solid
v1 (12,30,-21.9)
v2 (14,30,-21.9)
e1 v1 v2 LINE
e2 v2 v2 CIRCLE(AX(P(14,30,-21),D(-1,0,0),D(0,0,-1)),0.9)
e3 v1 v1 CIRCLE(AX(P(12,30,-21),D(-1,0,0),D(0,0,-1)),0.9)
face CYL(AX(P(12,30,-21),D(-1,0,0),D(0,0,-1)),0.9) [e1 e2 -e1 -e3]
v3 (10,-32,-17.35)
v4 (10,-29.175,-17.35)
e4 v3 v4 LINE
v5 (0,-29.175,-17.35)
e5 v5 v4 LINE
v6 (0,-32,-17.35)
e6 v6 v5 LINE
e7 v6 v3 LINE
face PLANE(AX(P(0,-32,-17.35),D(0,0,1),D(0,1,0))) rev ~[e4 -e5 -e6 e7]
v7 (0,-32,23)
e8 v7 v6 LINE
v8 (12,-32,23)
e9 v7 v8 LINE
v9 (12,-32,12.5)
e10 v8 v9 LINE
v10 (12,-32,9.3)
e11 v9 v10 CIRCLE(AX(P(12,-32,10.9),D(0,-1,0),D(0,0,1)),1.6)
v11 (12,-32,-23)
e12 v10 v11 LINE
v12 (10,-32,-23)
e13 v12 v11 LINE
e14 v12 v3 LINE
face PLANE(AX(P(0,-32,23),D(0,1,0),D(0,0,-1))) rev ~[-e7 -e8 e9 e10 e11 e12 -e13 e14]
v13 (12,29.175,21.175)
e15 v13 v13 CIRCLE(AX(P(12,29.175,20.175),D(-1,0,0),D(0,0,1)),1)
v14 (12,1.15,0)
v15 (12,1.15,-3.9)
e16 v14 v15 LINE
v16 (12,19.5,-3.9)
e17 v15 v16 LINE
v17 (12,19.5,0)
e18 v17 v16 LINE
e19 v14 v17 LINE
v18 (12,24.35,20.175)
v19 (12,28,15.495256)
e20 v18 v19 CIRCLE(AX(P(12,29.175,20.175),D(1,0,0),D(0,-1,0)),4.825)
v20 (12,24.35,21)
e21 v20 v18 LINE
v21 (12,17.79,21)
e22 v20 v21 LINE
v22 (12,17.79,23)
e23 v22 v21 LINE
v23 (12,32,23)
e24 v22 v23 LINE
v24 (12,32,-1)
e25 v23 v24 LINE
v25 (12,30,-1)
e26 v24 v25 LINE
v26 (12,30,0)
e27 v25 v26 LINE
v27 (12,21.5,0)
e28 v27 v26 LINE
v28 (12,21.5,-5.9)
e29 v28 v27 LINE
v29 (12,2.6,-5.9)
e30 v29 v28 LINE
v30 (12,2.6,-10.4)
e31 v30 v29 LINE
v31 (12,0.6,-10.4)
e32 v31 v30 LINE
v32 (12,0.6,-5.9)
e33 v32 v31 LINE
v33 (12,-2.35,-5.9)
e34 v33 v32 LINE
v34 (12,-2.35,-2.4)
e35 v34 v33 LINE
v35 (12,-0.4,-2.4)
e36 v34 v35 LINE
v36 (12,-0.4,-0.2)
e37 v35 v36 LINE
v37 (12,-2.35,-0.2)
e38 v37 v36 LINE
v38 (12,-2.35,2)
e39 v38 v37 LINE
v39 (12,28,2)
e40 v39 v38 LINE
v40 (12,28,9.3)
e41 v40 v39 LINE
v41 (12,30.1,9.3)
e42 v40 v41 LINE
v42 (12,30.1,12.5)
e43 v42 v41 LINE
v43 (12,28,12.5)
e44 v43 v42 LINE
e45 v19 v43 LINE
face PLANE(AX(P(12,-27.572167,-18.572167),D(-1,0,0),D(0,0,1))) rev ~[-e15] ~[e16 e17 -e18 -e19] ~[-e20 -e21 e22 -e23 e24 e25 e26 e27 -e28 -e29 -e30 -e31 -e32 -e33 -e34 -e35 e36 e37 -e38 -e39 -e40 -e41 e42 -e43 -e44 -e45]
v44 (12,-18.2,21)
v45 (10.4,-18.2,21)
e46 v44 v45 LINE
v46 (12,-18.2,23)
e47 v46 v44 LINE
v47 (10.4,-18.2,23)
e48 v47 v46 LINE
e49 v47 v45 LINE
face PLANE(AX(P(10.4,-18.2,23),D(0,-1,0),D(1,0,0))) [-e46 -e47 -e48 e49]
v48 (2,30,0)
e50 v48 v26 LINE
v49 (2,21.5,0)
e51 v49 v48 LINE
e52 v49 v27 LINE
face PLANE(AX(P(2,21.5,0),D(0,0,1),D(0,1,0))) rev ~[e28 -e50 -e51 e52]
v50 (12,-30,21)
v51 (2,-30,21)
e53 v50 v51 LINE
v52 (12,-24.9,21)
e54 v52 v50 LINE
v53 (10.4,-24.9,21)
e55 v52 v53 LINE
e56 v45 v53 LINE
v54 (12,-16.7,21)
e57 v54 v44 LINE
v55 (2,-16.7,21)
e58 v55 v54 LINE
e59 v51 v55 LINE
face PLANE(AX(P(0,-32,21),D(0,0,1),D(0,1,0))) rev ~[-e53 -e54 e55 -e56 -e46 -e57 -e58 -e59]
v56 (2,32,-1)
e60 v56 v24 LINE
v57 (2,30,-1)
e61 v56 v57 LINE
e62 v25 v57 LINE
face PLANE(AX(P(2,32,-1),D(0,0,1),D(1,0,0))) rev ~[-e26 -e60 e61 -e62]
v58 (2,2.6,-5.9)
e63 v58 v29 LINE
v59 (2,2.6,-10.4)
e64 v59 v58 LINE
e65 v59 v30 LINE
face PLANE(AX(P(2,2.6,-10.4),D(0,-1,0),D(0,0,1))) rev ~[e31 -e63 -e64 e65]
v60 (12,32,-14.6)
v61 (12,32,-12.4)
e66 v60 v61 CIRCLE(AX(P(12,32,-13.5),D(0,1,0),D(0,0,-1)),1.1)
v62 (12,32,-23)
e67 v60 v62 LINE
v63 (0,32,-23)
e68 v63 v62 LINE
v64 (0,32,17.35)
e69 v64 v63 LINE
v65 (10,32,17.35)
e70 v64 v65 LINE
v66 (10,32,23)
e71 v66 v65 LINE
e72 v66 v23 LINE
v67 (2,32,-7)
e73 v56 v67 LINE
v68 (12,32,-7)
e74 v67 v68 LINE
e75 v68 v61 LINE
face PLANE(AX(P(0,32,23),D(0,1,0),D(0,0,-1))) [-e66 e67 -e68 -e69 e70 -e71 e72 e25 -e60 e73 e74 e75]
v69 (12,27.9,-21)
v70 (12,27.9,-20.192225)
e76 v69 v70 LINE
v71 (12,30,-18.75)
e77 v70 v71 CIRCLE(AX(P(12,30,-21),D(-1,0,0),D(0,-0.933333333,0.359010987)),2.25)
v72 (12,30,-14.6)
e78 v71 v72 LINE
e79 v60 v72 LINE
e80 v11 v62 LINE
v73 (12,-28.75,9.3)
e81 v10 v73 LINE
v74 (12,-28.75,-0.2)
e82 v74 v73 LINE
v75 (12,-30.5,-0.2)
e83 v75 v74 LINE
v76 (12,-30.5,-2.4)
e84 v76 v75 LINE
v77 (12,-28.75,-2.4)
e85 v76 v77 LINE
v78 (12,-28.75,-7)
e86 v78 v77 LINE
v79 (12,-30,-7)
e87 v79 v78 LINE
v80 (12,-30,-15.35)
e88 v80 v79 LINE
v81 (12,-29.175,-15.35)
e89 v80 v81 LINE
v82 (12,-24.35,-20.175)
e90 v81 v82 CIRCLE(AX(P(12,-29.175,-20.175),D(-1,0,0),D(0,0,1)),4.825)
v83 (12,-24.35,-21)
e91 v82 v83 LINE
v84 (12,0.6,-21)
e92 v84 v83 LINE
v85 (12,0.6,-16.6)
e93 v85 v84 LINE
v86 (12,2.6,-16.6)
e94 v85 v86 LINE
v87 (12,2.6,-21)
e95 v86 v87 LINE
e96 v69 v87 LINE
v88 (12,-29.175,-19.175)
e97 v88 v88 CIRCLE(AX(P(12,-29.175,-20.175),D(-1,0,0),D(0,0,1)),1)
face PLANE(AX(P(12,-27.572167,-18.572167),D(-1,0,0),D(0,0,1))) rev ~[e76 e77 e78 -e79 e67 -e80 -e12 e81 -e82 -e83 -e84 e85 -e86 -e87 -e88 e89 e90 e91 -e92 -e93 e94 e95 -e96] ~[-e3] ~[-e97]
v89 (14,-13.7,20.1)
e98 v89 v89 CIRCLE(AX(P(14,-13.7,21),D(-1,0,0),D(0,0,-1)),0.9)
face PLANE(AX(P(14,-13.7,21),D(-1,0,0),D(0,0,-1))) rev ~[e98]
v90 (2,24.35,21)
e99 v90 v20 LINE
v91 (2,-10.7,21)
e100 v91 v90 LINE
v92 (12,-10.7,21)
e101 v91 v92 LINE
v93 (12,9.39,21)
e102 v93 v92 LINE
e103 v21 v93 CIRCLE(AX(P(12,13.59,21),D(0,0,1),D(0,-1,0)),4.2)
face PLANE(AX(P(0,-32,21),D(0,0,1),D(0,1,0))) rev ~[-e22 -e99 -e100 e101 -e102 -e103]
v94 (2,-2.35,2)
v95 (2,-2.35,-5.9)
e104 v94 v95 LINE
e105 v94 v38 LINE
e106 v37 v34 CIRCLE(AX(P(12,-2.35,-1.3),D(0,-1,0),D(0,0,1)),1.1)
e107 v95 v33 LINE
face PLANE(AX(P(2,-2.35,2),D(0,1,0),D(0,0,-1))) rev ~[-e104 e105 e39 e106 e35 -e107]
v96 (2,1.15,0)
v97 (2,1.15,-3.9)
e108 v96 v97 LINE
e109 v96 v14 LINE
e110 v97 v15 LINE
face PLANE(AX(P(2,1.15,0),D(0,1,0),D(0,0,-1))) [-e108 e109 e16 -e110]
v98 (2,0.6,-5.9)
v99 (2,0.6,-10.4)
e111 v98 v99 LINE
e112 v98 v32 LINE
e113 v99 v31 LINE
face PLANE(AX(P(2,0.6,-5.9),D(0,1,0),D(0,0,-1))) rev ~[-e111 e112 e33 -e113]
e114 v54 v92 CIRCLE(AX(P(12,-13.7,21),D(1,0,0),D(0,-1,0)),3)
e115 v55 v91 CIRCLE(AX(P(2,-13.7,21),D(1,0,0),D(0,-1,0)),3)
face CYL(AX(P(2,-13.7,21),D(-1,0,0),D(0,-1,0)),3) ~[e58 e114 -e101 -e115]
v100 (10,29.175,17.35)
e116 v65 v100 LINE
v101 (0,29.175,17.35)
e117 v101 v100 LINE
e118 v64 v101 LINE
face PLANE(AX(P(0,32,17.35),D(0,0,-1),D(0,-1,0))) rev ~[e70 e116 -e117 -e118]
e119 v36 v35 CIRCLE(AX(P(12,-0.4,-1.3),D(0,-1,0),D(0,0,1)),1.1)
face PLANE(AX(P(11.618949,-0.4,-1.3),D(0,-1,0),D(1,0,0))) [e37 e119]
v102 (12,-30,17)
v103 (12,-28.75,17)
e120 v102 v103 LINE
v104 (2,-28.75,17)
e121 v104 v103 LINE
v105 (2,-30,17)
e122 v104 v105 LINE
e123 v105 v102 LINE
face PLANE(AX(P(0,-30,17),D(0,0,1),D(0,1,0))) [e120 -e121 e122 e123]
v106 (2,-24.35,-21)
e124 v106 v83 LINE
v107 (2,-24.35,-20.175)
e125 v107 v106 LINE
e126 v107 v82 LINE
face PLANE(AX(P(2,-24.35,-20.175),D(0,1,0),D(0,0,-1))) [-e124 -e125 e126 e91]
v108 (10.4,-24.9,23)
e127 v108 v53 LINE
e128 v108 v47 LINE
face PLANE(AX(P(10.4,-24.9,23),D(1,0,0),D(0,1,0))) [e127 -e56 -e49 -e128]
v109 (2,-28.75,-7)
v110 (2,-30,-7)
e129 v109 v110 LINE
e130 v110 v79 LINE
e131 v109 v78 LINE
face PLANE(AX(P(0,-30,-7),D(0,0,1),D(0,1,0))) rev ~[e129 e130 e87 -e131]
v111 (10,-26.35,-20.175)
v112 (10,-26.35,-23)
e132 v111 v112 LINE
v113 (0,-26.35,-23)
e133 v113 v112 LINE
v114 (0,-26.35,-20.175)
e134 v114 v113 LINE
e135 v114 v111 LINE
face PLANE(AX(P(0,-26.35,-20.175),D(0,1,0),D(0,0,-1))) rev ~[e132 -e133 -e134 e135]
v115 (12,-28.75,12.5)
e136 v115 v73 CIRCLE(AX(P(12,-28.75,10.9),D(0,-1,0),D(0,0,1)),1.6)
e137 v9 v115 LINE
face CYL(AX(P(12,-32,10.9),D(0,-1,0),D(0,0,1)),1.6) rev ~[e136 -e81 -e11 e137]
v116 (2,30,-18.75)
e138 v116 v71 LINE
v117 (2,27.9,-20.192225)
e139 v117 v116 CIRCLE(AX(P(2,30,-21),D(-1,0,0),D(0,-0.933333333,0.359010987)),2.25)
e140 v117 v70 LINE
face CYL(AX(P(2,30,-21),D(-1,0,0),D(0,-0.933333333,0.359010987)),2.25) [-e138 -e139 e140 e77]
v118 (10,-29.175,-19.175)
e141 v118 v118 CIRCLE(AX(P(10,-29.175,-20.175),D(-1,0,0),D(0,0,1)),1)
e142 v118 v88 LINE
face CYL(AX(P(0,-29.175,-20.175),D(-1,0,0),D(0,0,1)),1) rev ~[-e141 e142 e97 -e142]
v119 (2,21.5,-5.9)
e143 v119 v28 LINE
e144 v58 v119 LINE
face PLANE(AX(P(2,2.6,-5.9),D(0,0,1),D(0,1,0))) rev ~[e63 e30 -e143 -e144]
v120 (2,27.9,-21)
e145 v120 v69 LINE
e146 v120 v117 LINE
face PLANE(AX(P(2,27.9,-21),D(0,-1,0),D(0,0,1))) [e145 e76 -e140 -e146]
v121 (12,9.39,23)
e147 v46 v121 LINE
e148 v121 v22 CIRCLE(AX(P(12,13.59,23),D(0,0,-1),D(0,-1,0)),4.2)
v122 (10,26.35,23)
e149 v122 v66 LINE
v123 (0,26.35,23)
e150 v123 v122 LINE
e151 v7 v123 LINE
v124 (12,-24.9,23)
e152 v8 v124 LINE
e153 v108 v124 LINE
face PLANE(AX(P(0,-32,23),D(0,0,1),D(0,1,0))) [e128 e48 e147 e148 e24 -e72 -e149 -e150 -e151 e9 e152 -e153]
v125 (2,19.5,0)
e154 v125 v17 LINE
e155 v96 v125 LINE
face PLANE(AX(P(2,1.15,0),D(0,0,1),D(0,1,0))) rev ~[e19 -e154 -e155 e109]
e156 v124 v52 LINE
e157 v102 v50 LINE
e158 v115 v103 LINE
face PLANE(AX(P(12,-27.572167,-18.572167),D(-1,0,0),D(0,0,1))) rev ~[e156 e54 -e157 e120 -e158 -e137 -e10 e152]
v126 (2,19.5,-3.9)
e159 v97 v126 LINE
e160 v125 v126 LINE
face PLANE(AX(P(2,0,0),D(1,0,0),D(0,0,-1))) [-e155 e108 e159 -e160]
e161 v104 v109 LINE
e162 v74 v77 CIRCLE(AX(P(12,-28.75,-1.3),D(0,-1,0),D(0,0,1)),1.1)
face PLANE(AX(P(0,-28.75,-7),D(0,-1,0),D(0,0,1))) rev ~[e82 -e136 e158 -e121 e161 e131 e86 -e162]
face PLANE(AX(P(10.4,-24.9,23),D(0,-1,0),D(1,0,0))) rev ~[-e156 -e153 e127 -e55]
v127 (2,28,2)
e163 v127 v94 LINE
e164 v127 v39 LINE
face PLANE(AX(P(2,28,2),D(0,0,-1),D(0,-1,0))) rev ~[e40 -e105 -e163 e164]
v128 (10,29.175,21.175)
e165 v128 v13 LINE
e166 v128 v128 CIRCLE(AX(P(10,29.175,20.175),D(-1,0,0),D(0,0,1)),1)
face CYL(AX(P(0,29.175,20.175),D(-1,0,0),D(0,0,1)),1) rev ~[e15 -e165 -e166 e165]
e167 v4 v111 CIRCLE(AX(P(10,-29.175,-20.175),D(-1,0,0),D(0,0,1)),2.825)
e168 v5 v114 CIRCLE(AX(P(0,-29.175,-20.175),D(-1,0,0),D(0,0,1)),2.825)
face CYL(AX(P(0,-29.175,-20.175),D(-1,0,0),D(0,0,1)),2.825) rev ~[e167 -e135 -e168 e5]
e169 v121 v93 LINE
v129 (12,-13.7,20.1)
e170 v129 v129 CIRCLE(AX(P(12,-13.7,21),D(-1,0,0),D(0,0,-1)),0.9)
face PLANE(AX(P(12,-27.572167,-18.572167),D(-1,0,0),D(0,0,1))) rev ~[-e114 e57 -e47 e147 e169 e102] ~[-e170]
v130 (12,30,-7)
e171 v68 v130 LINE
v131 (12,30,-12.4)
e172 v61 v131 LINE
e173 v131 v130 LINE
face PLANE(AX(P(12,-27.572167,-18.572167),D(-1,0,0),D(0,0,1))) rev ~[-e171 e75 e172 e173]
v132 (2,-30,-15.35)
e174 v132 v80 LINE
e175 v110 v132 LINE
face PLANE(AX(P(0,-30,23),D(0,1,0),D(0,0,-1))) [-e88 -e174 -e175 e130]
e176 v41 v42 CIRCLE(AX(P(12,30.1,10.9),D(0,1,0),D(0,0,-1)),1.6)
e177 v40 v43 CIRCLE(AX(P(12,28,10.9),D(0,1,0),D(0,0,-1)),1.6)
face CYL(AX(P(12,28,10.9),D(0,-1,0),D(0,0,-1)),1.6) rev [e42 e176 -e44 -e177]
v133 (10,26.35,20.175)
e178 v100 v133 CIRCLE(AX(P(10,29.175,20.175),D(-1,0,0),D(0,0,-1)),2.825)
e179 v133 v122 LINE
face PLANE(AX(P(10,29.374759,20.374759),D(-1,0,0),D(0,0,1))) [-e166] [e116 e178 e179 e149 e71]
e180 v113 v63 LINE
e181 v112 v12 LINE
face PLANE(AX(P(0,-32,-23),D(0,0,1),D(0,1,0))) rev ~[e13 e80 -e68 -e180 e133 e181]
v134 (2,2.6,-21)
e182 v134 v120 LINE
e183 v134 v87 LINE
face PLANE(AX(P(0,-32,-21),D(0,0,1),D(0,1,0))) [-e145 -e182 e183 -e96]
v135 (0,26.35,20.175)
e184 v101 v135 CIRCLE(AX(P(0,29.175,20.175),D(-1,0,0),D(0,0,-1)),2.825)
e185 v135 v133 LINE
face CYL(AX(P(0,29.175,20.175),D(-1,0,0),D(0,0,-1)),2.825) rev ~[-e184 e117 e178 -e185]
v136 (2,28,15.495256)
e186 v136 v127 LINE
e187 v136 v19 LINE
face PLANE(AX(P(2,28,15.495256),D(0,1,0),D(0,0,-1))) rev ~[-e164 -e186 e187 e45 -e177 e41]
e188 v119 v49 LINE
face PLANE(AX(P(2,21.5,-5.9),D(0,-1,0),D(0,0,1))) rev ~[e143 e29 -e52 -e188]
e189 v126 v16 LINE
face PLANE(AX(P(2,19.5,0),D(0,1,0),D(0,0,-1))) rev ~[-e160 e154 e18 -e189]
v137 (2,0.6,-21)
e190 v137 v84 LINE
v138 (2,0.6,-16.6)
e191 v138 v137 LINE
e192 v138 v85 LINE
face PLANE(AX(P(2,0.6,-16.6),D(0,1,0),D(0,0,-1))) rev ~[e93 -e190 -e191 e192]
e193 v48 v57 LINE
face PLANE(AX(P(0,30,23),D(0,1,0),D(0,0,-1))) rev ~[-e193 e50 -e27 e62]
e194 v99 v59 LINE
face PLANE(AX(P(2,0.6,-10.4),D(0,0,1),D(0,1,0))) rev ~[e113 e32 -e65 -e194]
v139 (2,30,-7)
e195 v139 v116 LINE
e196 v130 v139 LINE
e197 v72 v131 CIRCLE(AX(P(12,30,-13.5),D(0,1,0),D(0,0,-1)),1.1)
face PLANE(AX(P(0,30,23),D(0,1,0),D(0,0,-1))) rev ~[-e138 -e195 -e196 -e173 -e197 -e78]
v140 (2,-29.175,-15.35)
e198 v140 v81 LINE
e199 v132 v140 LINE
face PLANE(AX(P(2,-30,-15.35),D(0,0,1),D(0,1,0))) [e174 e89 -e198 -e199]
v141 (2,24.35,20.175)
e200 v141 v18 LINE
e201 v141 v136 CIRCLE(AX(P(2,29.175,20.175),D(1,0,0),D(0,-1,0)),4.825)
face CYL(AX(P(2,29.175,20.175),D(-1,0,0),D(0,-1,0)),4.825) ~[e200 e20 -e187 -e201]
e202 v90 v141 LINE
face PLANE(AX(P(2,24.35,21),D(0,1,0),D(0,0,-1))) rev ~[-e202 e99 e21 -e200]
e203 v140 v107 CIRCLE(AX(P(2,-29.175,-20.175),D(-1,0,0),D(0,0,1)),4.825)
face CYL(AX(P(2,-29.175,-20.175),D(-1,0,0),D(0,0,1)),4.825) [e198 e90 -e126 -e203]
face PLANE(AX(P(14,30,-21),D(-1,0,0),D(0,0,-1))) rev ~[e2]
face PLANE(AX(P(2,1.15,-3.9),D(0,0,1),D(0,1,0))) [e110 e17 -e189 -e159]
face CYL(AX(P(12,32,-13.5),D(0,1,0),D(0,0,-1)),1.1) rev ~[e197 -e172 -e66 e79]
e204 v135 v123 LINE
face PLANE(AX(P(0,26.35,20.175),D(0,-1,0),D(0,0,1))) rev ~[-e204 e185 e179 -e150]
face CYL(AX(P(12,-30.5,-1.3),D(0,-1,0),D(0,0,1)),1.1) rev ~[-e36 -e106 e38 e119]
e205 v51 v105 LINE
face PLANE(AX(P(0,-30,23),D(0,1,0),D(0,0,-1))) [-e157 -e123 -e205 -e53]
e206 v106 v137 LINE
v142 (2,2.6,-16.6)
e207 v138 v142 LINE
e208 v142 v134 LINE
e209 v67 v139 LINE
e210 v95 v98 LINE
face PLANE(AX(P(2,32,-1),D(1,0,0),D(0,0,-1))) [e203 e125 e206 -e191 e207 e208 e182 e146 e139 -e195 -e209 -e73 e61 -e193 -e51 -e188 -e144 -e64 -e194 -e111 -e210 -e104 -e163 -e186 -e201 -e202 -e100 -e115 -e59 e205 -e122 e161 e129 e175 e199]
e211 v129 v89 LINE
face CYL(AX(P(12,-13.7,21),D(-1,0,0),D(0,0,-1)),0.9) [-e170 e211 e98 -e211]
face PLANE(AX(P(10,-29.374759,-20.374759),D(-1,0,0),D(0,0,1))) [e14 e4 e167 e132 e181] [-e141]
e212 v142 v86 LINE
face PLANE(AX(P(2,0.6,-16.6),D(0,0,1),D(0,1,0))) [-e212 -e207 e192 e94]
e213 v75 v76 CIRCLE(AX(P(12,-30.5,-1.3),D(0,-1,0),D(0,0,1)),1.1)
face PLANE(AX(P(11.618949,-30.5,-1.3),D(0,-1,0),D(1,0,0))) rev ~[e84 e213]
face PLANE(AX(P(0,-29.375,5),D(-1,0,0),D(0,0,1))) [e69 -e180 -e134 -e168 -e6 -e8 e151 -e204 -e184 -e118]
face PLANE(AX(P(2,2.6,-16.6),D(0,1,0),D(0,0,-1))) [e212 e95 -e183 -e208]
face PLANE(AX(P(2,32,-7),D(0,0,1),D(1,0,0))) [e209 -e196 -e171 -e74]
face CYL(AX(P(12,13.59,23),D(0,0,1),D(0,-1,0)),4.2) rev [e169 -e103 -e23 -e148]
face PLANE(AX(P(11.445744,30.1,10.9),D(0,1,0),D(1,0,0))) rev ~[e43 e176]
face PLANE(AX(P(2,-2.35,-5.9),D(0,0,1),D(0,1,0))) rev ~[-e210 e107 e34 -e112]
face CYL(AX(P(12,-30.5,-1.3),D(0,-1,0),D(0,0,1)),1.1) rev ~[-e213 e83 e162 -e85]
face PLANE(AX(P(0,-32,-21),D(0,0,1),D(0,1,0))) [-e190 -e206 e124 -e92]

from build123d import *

# Parameters (mm, degrees)
SKETCH_1_W           = 46
SKETCH_1_H           = 64
EXTRUDE_1_DEPTH      = 12
SHELL_1_T            = -2
SKETCH_3_W           = 4.4
SKETCH_3_H           = 2
SKETCH_3_W_2         = 3.9
SKETCH_3_H_2         = 18.35
EXTRUDE_6_DEPTH      = 10
SKETCH_4_R           = 1
CUT_EXTRUDE_1_DEPTH  = 10
CUT_EXTRUDE_3_REACH  = 43.195
SKETCH_7_R           = 1
EXTRUDE_START        = -12
SKETCH_8_R           = 0.9
EXTRUDE_7_DEPTH      = 2
SKETCH_13_W          = 24
SKETCH_13_H          = 1.25
EXTRUDE_8_DEPTH      = 12
CUT_EXTRUDE_4_REACH  = 71.433
CUT_EXTRUDE_5_REACH  = 71.433
CUT_EXTRUDE_START    = -4
CUT_EXTRUDE_6_DEPTH  = 2.1
CUT_EXTRUDE_START_2  = -1.5
CUT_EXTRUDE_7_DEPTH  = 30.1
CUT_EXTRUDE_8_REACH  = 59.758
CUT_EXTRUDE_9_REACH  = 71.433
SKETCH_15_W          = 10
SKETCH_15_H          = 6
CUT_EXTRUDE_10_REACH = 59.758
SKETCH_16_W          = 1.6
SKETCH_16_H          = 6.7


with BuildPart() as part:
    # 草图1 → 凸台-拉伸1 (new body)
    with BuildSketch(Plane(origin=(0, 0, 0), x_dir=(0, 0, -1), z_dir=(1, 0, 0))):
        Rectangle(SKETCH_1_W, SKETCH_1_H)
    extrude(amount=EXTRUDE_1_DEPTH)

    # 抽壳1
    shell_1_openings = [part.faces().sort_by_distance(p)[0] for p in [
        (12, 0, 0),
    ]]
    offset(amount=SHELL_1_T, openings=shell_1_openings, kind=Kind.INTERSECTION)

    # 草图3 → 凸台-拉伸6 (add)
    # profile 1 of 5: a face of its own
    with BuildSketch(Plane(origin=(2, 0, 0), x_dir=(0, 0, -1), z_dir=(1, 0, 0))):
        with BuildLine():
            Line((20.175, -24.35), (21, -24.35))
            Line((21, -24.35), (21, -30))
            Line((21, -30), (15.35, -30))
            Line((15.35, -30), (15.35, -29.175))
            ThreePointArc((15.35, -29.175), (16.763209781, -25.763209781), (20.175, -24.35))
        make_face()
    # profile 2 of 5: a face of its own
    with BuildSketch(Plane(origin=(2, 0, 0), x_dir=(0, 0, -1), z_dir=(1, 0, 0))):
        with Locations((18.8, 1.6)):
            Rectangle(SKETCH_3_W, SKETCH_3_H)
    # profile 3 of 5: a face of its own
    with BuildSketch(Plane(origin=(2, 0, 0), x_dir=(0, 0, -1), z_dir=(1, 0, 0))):
        with BuildLine():
            Line((-21, 30), (-21, 24.35))
            Line((-21, 24.35), (-20.175, 24.35))
            ThreePointArc((-20.175, 24.35), (-17.207572663, 25.370397524), (-15.495256417, 28))
            Line((-15.495256417, 28), (-2, 28))
            Line((-2, 28), (-2, -2.35))
            Line((-2, -2.35), (5.9, -2.35))
            Line((5.9, -2.35), (5.9, 0.6))
            Line((5.9, 0.6), (10.4, 0.6))
            Line((10.4, 0.6), (10.4, 2.6))
            Line((10.4, 2.6), (5.9, 2.6))
            Line((5.9, 2.6), (5.9, 21.5))
            Line((5.9, 21.5), (0, 21.5))
            Line((0, 21.5), (0, 30))
            Line((0, 30), (-21, 30))
        make_face()
        with Locations((1.95, 10.325)):
            Rectangle(SKETCH_3_W_2, SKETCH_3_H_2, mode=Mode.SUBTRACT)
    # profile 4 of 5: a face of its own
    with BuildSketch(Plane(origin=(2, 0, 0), x_dir=(0, 0, -1), z_dir=(1, 0, 0))):
        with BuildLine():
            Line((-21, -10.7), (-21, -16.7))
            ThreePointArc((-21, -16.7), (-18, -13.7), (-21, -10.7))
        make_face()
    # profile 5 of 5: a face of its own
    with BuildSketch(Plane(origin=(2, 0, 0), x_dir=(0, 0, -1), z_dir=(1, 0, 0))):
        with BuildLine():
            Line((18.75, 30), (21, 30))
            Line((21, 30), (21, 27.9))
            Line((21, 27.9), (20.192225279, 27.9))
            ThreePointArc((20.192225279, 27.9), (19.145277228, 28.72622473), (18.75, 30))
        make_face()
    extrude(amount=EXTRUDE_6_DEPTH)

    # 草图4 → 切除-拉伸1 (cut)
    # profile 1 of 2: a face of its own
    with BuildSketch(Plane.ZY):
        with BuildLine():
            Line((-20.175, -26.35), (-23, -26.35))
            Line((-23, -26.35), (-23, -32))
            Line((-23, -32), (-17.382192318, -32))
            Line((-17.382192318, -32), (-17.35, -32))
            Line((-17.35, -32), (-17.35, -29.175))
            ThreePointArc((-17.35, -29.175), (-18.177423343, -27.177423343), (-20.175, -26.35))
        make_face()
        with Locations((-20.175, -29.175)):
            Circle(SKETCH_4_R, mode=Mode.SUBTRACT)
    # profile 2 of 2: a face of its own
    with BuildSketch(Plane.ZY):
        with BuildLine():
            Line((20.175, 26.35), (23, 26.35))
            Line((23, 26.35), (23, 32))
            Line((23, 32), (17.35, 32))
            Line((17.35, 32), (17.35, 29.175))
            ThreePointArc((17.35, 29.175), (18.177423343, 27.177423343), (20.175, 26.35))
        make_face()
        with Locations((20.175, 29.175)):
            Circle(SKETCH_4_R, mode=Mode.SUBTRACT)
    extrude(amount=-CUT_EXTRUDE_1_DEPTH, mode=Mode.SUBTRACT)

    # 草图7 → 切除-拉伸3 (cut, up to next)
    with BuildSketch(Plane.ZY, mode=Mode.PRIVATE) as cut_extrude_3_sk1:
        with Locations((-20.175, -29.175)):
            Circle(SKETCH_7_R)
    cut_extrude_3_tool1 = extrude(cut_extrude_3_sk1.sketch, amount=-CUT_EXTRUDE_3_REACH, mode=Mode.PRIVATE) & part.part
    # 草图7 → 切除-拉伸3 (cut, up to next)
    with BuildSketch(Plane.ZY, mode=Mode.PRIVATE) as cut_extrude_3_sk2:
        with Locations((20.175, 29.175)):
            Circle(SKETCH_7_R)
    cut_extrude_3_tool2 = extrude(cut_extrude_3_sk2.sketch, amount=-CUT_EXTRUDE_3_REACH, mode=Mode.PRIVATE) & part.part
    add(cut_extrude_3_tool1.solids().sort_by_distance((0, -29.175, -20.175))[0], mode=Mode.SUBTRACT)
    add(cut_extrude_3_tool2.solids().sort_by_distance((0, 29.175, 20.175))[0], mode=Mode.SUBTRACT)

    # 草图8 → 凸台-拉伸7 (add)
    with BuildSketch(Plane.ZY.offset(EXTRUDE_START)):
        with Locations(Location((-21, 30, 0), (0, 0, 180))):
            Circle(SKETCH_8_R)
        with Locations(Location((21, -13.7, 0), (0, 0, 180))):
            Circle(SKETCH_8_R)
    extrude(amount=-EXTRUDE_7_DEPTH)

    # 草图13 → 凸台-拉伸8 (add)
    with BuildSketch(Plane.ZY):
        with Locations((5, -29.375)):
            Rectangle(SKETCH_13_W, SKETCH_13_H)
    extrude(amount=-EXTRUDE_8_DEPTH)

    # 草图9 → 切除-拉伸4 (cut, up to next)
    with BuildSketch(Plane.XZ.offset(32), mode=Mode.PRIVATE) as cut_extrude_4_sk1:
        with BuildLine():
            Line((12, 9.3), (12, 12.5))
            ThreePointArc((12, 12.5), (10.4, 10.9), (12, 9.3))
        make_face()
    cut_extrude_4_tool1 = extrude(cut_extrude_4_sk1.sketch, amount=-CUT_EXTRUDE_4_REACH, mode=Mode.PRIVATE) & part.part
    add(cut_extrude_4_tool1.solids().sort_by_distance((11.320939, -32, 10.9))[0], mode=Mode.SUBTRACT)

    # 草图11 → 切除-拉伸5 (cut, up to next)
    with BuildSketch(Plane(origin=(0, 32, 0), x_dir=(1, 0, 0), z_dir=(0, 1, 0)), mode=Mode.PRIVATE) as cut_extrude_5_sk1:
        with BuildLine():
            Line((12, 12.4), (12, 14.6))
            ThreePointArc((12, 14.6), (10.9, 13.5), (12, 12.4))
        make_face()
    cut_extrude_5_tool1 = extrude(cut_extrude_5_sk1.sketch, amount=-CUT_EXTRUDE_5_REACH, mode=Mode.PRIVATE) & part.part
    add(cut_extrude_5_tool1.solids().sort_by_distance((11.533146, 32, -13.5))[0], mode=Mode.SUBTRACT)

    # 草图12 → 切除-拉伸6 (cut)
    with BuildSketch(Plane(origin=(0, 32, 0), x_dir=(1, 0, 0), z_dir=(0, 1, 0)).offset(CUT_EXTRUDE_START)):
        with BuildLine():
            Line((12, -12.5), (12, -9.3))
            ThreePointArc((12, -9.3), (10.4, -10.9), (12, -12.5))
        make_face()
    extrude(amount=CUT_EXTRUDE_6_DEPTH, mode=Mode.SUBTRACT)

    # 草图10 → 切除-拉伸7 (cut)
    with BuildSketch(Plane.XZ.offset(32).offset(CUT_EXTRUDE_START_2)):
        with BuildLine():
            Line((12, -2.4), (12, -0.2))
            ThreePointArc((12, -0.2), (10.9, -1.3), (12, -2.4))
        make_face()
    extrude(amount=-CUT_EXTRUDE_7_DEPTH, mode=Mode.SUBTRACT)

    # 草图14 → 切除-拉伸8 (cut, up to next)
    with BuildSketch(Plane.XY.offset(23), mode=Mode.PRIVATE) as cut_extrude_8_sk1:
        with BuildLine():
            Line((12, 17.79), (12, 9.39))
            ThreePointArc((12, 9.39), (7.8, 13.59), (12, 17.79))
        make_face()
    cut_extrude_8_tool1 = extrude(cut_extrude_8_sk1.sketch, amount=-CUT_EXTRUDE_8_REACH, mode=Mode.PRIVATE) & part.part
    add(cut_extrude_8_tool1.solids().sort_by_distance((10.217465, 13.59, 23))[0], mode=Mode.SUBTRACT)

    # 草图15 → 电机线切除-拉伸9 (cut, up to next)
    with BuildSketch(Plane(origin=(0, 32, 0), x_dir=(1, 0, 0), z_dir=(0, 1, 0)), mode=Mode.PRIVATE) as cut_extrude_9_sk1:
        with Locations((7, 4)):
            Rectangle(SKETCH_15_W, SKETCH_15_H)
    cut_extrude_9_tool1 = extrude(cut_extrude_9_sk1.sketch, amount=-CUT_EXTRUDE_9_REACH, mode=Mode.PRIVATE) & part.part
    add(cut_extrude_9_tool1.solids().sort_by_distance((7, 32, -4))[0], mode=Mode.SUBTRACT)

    # 草图16 → 拨杆切除-拉伸10 (cut, up to next)
    with BuildSketch(Plane.XY.offset(23), mode=Mode.PRIVATE) as cut_extrude_10_sk1:
        with Locations((11.2, -21.55)):
            Rectangle(SKETCH_16_W, SKETCH_16_H)
    cut_extrude_10_tool1 = extrude(cut_extrude_10_sk1.sketch, amount=-CUT_EXTRUDE_10_REACH, mode=Mode.PRIVATE) & part.part
    add(cut_extrude_10_tool1.solids().sort_by_distance((11.2, -21.55, 23))[0], mode=Mode.SUBTRACT)


solid = part.part
